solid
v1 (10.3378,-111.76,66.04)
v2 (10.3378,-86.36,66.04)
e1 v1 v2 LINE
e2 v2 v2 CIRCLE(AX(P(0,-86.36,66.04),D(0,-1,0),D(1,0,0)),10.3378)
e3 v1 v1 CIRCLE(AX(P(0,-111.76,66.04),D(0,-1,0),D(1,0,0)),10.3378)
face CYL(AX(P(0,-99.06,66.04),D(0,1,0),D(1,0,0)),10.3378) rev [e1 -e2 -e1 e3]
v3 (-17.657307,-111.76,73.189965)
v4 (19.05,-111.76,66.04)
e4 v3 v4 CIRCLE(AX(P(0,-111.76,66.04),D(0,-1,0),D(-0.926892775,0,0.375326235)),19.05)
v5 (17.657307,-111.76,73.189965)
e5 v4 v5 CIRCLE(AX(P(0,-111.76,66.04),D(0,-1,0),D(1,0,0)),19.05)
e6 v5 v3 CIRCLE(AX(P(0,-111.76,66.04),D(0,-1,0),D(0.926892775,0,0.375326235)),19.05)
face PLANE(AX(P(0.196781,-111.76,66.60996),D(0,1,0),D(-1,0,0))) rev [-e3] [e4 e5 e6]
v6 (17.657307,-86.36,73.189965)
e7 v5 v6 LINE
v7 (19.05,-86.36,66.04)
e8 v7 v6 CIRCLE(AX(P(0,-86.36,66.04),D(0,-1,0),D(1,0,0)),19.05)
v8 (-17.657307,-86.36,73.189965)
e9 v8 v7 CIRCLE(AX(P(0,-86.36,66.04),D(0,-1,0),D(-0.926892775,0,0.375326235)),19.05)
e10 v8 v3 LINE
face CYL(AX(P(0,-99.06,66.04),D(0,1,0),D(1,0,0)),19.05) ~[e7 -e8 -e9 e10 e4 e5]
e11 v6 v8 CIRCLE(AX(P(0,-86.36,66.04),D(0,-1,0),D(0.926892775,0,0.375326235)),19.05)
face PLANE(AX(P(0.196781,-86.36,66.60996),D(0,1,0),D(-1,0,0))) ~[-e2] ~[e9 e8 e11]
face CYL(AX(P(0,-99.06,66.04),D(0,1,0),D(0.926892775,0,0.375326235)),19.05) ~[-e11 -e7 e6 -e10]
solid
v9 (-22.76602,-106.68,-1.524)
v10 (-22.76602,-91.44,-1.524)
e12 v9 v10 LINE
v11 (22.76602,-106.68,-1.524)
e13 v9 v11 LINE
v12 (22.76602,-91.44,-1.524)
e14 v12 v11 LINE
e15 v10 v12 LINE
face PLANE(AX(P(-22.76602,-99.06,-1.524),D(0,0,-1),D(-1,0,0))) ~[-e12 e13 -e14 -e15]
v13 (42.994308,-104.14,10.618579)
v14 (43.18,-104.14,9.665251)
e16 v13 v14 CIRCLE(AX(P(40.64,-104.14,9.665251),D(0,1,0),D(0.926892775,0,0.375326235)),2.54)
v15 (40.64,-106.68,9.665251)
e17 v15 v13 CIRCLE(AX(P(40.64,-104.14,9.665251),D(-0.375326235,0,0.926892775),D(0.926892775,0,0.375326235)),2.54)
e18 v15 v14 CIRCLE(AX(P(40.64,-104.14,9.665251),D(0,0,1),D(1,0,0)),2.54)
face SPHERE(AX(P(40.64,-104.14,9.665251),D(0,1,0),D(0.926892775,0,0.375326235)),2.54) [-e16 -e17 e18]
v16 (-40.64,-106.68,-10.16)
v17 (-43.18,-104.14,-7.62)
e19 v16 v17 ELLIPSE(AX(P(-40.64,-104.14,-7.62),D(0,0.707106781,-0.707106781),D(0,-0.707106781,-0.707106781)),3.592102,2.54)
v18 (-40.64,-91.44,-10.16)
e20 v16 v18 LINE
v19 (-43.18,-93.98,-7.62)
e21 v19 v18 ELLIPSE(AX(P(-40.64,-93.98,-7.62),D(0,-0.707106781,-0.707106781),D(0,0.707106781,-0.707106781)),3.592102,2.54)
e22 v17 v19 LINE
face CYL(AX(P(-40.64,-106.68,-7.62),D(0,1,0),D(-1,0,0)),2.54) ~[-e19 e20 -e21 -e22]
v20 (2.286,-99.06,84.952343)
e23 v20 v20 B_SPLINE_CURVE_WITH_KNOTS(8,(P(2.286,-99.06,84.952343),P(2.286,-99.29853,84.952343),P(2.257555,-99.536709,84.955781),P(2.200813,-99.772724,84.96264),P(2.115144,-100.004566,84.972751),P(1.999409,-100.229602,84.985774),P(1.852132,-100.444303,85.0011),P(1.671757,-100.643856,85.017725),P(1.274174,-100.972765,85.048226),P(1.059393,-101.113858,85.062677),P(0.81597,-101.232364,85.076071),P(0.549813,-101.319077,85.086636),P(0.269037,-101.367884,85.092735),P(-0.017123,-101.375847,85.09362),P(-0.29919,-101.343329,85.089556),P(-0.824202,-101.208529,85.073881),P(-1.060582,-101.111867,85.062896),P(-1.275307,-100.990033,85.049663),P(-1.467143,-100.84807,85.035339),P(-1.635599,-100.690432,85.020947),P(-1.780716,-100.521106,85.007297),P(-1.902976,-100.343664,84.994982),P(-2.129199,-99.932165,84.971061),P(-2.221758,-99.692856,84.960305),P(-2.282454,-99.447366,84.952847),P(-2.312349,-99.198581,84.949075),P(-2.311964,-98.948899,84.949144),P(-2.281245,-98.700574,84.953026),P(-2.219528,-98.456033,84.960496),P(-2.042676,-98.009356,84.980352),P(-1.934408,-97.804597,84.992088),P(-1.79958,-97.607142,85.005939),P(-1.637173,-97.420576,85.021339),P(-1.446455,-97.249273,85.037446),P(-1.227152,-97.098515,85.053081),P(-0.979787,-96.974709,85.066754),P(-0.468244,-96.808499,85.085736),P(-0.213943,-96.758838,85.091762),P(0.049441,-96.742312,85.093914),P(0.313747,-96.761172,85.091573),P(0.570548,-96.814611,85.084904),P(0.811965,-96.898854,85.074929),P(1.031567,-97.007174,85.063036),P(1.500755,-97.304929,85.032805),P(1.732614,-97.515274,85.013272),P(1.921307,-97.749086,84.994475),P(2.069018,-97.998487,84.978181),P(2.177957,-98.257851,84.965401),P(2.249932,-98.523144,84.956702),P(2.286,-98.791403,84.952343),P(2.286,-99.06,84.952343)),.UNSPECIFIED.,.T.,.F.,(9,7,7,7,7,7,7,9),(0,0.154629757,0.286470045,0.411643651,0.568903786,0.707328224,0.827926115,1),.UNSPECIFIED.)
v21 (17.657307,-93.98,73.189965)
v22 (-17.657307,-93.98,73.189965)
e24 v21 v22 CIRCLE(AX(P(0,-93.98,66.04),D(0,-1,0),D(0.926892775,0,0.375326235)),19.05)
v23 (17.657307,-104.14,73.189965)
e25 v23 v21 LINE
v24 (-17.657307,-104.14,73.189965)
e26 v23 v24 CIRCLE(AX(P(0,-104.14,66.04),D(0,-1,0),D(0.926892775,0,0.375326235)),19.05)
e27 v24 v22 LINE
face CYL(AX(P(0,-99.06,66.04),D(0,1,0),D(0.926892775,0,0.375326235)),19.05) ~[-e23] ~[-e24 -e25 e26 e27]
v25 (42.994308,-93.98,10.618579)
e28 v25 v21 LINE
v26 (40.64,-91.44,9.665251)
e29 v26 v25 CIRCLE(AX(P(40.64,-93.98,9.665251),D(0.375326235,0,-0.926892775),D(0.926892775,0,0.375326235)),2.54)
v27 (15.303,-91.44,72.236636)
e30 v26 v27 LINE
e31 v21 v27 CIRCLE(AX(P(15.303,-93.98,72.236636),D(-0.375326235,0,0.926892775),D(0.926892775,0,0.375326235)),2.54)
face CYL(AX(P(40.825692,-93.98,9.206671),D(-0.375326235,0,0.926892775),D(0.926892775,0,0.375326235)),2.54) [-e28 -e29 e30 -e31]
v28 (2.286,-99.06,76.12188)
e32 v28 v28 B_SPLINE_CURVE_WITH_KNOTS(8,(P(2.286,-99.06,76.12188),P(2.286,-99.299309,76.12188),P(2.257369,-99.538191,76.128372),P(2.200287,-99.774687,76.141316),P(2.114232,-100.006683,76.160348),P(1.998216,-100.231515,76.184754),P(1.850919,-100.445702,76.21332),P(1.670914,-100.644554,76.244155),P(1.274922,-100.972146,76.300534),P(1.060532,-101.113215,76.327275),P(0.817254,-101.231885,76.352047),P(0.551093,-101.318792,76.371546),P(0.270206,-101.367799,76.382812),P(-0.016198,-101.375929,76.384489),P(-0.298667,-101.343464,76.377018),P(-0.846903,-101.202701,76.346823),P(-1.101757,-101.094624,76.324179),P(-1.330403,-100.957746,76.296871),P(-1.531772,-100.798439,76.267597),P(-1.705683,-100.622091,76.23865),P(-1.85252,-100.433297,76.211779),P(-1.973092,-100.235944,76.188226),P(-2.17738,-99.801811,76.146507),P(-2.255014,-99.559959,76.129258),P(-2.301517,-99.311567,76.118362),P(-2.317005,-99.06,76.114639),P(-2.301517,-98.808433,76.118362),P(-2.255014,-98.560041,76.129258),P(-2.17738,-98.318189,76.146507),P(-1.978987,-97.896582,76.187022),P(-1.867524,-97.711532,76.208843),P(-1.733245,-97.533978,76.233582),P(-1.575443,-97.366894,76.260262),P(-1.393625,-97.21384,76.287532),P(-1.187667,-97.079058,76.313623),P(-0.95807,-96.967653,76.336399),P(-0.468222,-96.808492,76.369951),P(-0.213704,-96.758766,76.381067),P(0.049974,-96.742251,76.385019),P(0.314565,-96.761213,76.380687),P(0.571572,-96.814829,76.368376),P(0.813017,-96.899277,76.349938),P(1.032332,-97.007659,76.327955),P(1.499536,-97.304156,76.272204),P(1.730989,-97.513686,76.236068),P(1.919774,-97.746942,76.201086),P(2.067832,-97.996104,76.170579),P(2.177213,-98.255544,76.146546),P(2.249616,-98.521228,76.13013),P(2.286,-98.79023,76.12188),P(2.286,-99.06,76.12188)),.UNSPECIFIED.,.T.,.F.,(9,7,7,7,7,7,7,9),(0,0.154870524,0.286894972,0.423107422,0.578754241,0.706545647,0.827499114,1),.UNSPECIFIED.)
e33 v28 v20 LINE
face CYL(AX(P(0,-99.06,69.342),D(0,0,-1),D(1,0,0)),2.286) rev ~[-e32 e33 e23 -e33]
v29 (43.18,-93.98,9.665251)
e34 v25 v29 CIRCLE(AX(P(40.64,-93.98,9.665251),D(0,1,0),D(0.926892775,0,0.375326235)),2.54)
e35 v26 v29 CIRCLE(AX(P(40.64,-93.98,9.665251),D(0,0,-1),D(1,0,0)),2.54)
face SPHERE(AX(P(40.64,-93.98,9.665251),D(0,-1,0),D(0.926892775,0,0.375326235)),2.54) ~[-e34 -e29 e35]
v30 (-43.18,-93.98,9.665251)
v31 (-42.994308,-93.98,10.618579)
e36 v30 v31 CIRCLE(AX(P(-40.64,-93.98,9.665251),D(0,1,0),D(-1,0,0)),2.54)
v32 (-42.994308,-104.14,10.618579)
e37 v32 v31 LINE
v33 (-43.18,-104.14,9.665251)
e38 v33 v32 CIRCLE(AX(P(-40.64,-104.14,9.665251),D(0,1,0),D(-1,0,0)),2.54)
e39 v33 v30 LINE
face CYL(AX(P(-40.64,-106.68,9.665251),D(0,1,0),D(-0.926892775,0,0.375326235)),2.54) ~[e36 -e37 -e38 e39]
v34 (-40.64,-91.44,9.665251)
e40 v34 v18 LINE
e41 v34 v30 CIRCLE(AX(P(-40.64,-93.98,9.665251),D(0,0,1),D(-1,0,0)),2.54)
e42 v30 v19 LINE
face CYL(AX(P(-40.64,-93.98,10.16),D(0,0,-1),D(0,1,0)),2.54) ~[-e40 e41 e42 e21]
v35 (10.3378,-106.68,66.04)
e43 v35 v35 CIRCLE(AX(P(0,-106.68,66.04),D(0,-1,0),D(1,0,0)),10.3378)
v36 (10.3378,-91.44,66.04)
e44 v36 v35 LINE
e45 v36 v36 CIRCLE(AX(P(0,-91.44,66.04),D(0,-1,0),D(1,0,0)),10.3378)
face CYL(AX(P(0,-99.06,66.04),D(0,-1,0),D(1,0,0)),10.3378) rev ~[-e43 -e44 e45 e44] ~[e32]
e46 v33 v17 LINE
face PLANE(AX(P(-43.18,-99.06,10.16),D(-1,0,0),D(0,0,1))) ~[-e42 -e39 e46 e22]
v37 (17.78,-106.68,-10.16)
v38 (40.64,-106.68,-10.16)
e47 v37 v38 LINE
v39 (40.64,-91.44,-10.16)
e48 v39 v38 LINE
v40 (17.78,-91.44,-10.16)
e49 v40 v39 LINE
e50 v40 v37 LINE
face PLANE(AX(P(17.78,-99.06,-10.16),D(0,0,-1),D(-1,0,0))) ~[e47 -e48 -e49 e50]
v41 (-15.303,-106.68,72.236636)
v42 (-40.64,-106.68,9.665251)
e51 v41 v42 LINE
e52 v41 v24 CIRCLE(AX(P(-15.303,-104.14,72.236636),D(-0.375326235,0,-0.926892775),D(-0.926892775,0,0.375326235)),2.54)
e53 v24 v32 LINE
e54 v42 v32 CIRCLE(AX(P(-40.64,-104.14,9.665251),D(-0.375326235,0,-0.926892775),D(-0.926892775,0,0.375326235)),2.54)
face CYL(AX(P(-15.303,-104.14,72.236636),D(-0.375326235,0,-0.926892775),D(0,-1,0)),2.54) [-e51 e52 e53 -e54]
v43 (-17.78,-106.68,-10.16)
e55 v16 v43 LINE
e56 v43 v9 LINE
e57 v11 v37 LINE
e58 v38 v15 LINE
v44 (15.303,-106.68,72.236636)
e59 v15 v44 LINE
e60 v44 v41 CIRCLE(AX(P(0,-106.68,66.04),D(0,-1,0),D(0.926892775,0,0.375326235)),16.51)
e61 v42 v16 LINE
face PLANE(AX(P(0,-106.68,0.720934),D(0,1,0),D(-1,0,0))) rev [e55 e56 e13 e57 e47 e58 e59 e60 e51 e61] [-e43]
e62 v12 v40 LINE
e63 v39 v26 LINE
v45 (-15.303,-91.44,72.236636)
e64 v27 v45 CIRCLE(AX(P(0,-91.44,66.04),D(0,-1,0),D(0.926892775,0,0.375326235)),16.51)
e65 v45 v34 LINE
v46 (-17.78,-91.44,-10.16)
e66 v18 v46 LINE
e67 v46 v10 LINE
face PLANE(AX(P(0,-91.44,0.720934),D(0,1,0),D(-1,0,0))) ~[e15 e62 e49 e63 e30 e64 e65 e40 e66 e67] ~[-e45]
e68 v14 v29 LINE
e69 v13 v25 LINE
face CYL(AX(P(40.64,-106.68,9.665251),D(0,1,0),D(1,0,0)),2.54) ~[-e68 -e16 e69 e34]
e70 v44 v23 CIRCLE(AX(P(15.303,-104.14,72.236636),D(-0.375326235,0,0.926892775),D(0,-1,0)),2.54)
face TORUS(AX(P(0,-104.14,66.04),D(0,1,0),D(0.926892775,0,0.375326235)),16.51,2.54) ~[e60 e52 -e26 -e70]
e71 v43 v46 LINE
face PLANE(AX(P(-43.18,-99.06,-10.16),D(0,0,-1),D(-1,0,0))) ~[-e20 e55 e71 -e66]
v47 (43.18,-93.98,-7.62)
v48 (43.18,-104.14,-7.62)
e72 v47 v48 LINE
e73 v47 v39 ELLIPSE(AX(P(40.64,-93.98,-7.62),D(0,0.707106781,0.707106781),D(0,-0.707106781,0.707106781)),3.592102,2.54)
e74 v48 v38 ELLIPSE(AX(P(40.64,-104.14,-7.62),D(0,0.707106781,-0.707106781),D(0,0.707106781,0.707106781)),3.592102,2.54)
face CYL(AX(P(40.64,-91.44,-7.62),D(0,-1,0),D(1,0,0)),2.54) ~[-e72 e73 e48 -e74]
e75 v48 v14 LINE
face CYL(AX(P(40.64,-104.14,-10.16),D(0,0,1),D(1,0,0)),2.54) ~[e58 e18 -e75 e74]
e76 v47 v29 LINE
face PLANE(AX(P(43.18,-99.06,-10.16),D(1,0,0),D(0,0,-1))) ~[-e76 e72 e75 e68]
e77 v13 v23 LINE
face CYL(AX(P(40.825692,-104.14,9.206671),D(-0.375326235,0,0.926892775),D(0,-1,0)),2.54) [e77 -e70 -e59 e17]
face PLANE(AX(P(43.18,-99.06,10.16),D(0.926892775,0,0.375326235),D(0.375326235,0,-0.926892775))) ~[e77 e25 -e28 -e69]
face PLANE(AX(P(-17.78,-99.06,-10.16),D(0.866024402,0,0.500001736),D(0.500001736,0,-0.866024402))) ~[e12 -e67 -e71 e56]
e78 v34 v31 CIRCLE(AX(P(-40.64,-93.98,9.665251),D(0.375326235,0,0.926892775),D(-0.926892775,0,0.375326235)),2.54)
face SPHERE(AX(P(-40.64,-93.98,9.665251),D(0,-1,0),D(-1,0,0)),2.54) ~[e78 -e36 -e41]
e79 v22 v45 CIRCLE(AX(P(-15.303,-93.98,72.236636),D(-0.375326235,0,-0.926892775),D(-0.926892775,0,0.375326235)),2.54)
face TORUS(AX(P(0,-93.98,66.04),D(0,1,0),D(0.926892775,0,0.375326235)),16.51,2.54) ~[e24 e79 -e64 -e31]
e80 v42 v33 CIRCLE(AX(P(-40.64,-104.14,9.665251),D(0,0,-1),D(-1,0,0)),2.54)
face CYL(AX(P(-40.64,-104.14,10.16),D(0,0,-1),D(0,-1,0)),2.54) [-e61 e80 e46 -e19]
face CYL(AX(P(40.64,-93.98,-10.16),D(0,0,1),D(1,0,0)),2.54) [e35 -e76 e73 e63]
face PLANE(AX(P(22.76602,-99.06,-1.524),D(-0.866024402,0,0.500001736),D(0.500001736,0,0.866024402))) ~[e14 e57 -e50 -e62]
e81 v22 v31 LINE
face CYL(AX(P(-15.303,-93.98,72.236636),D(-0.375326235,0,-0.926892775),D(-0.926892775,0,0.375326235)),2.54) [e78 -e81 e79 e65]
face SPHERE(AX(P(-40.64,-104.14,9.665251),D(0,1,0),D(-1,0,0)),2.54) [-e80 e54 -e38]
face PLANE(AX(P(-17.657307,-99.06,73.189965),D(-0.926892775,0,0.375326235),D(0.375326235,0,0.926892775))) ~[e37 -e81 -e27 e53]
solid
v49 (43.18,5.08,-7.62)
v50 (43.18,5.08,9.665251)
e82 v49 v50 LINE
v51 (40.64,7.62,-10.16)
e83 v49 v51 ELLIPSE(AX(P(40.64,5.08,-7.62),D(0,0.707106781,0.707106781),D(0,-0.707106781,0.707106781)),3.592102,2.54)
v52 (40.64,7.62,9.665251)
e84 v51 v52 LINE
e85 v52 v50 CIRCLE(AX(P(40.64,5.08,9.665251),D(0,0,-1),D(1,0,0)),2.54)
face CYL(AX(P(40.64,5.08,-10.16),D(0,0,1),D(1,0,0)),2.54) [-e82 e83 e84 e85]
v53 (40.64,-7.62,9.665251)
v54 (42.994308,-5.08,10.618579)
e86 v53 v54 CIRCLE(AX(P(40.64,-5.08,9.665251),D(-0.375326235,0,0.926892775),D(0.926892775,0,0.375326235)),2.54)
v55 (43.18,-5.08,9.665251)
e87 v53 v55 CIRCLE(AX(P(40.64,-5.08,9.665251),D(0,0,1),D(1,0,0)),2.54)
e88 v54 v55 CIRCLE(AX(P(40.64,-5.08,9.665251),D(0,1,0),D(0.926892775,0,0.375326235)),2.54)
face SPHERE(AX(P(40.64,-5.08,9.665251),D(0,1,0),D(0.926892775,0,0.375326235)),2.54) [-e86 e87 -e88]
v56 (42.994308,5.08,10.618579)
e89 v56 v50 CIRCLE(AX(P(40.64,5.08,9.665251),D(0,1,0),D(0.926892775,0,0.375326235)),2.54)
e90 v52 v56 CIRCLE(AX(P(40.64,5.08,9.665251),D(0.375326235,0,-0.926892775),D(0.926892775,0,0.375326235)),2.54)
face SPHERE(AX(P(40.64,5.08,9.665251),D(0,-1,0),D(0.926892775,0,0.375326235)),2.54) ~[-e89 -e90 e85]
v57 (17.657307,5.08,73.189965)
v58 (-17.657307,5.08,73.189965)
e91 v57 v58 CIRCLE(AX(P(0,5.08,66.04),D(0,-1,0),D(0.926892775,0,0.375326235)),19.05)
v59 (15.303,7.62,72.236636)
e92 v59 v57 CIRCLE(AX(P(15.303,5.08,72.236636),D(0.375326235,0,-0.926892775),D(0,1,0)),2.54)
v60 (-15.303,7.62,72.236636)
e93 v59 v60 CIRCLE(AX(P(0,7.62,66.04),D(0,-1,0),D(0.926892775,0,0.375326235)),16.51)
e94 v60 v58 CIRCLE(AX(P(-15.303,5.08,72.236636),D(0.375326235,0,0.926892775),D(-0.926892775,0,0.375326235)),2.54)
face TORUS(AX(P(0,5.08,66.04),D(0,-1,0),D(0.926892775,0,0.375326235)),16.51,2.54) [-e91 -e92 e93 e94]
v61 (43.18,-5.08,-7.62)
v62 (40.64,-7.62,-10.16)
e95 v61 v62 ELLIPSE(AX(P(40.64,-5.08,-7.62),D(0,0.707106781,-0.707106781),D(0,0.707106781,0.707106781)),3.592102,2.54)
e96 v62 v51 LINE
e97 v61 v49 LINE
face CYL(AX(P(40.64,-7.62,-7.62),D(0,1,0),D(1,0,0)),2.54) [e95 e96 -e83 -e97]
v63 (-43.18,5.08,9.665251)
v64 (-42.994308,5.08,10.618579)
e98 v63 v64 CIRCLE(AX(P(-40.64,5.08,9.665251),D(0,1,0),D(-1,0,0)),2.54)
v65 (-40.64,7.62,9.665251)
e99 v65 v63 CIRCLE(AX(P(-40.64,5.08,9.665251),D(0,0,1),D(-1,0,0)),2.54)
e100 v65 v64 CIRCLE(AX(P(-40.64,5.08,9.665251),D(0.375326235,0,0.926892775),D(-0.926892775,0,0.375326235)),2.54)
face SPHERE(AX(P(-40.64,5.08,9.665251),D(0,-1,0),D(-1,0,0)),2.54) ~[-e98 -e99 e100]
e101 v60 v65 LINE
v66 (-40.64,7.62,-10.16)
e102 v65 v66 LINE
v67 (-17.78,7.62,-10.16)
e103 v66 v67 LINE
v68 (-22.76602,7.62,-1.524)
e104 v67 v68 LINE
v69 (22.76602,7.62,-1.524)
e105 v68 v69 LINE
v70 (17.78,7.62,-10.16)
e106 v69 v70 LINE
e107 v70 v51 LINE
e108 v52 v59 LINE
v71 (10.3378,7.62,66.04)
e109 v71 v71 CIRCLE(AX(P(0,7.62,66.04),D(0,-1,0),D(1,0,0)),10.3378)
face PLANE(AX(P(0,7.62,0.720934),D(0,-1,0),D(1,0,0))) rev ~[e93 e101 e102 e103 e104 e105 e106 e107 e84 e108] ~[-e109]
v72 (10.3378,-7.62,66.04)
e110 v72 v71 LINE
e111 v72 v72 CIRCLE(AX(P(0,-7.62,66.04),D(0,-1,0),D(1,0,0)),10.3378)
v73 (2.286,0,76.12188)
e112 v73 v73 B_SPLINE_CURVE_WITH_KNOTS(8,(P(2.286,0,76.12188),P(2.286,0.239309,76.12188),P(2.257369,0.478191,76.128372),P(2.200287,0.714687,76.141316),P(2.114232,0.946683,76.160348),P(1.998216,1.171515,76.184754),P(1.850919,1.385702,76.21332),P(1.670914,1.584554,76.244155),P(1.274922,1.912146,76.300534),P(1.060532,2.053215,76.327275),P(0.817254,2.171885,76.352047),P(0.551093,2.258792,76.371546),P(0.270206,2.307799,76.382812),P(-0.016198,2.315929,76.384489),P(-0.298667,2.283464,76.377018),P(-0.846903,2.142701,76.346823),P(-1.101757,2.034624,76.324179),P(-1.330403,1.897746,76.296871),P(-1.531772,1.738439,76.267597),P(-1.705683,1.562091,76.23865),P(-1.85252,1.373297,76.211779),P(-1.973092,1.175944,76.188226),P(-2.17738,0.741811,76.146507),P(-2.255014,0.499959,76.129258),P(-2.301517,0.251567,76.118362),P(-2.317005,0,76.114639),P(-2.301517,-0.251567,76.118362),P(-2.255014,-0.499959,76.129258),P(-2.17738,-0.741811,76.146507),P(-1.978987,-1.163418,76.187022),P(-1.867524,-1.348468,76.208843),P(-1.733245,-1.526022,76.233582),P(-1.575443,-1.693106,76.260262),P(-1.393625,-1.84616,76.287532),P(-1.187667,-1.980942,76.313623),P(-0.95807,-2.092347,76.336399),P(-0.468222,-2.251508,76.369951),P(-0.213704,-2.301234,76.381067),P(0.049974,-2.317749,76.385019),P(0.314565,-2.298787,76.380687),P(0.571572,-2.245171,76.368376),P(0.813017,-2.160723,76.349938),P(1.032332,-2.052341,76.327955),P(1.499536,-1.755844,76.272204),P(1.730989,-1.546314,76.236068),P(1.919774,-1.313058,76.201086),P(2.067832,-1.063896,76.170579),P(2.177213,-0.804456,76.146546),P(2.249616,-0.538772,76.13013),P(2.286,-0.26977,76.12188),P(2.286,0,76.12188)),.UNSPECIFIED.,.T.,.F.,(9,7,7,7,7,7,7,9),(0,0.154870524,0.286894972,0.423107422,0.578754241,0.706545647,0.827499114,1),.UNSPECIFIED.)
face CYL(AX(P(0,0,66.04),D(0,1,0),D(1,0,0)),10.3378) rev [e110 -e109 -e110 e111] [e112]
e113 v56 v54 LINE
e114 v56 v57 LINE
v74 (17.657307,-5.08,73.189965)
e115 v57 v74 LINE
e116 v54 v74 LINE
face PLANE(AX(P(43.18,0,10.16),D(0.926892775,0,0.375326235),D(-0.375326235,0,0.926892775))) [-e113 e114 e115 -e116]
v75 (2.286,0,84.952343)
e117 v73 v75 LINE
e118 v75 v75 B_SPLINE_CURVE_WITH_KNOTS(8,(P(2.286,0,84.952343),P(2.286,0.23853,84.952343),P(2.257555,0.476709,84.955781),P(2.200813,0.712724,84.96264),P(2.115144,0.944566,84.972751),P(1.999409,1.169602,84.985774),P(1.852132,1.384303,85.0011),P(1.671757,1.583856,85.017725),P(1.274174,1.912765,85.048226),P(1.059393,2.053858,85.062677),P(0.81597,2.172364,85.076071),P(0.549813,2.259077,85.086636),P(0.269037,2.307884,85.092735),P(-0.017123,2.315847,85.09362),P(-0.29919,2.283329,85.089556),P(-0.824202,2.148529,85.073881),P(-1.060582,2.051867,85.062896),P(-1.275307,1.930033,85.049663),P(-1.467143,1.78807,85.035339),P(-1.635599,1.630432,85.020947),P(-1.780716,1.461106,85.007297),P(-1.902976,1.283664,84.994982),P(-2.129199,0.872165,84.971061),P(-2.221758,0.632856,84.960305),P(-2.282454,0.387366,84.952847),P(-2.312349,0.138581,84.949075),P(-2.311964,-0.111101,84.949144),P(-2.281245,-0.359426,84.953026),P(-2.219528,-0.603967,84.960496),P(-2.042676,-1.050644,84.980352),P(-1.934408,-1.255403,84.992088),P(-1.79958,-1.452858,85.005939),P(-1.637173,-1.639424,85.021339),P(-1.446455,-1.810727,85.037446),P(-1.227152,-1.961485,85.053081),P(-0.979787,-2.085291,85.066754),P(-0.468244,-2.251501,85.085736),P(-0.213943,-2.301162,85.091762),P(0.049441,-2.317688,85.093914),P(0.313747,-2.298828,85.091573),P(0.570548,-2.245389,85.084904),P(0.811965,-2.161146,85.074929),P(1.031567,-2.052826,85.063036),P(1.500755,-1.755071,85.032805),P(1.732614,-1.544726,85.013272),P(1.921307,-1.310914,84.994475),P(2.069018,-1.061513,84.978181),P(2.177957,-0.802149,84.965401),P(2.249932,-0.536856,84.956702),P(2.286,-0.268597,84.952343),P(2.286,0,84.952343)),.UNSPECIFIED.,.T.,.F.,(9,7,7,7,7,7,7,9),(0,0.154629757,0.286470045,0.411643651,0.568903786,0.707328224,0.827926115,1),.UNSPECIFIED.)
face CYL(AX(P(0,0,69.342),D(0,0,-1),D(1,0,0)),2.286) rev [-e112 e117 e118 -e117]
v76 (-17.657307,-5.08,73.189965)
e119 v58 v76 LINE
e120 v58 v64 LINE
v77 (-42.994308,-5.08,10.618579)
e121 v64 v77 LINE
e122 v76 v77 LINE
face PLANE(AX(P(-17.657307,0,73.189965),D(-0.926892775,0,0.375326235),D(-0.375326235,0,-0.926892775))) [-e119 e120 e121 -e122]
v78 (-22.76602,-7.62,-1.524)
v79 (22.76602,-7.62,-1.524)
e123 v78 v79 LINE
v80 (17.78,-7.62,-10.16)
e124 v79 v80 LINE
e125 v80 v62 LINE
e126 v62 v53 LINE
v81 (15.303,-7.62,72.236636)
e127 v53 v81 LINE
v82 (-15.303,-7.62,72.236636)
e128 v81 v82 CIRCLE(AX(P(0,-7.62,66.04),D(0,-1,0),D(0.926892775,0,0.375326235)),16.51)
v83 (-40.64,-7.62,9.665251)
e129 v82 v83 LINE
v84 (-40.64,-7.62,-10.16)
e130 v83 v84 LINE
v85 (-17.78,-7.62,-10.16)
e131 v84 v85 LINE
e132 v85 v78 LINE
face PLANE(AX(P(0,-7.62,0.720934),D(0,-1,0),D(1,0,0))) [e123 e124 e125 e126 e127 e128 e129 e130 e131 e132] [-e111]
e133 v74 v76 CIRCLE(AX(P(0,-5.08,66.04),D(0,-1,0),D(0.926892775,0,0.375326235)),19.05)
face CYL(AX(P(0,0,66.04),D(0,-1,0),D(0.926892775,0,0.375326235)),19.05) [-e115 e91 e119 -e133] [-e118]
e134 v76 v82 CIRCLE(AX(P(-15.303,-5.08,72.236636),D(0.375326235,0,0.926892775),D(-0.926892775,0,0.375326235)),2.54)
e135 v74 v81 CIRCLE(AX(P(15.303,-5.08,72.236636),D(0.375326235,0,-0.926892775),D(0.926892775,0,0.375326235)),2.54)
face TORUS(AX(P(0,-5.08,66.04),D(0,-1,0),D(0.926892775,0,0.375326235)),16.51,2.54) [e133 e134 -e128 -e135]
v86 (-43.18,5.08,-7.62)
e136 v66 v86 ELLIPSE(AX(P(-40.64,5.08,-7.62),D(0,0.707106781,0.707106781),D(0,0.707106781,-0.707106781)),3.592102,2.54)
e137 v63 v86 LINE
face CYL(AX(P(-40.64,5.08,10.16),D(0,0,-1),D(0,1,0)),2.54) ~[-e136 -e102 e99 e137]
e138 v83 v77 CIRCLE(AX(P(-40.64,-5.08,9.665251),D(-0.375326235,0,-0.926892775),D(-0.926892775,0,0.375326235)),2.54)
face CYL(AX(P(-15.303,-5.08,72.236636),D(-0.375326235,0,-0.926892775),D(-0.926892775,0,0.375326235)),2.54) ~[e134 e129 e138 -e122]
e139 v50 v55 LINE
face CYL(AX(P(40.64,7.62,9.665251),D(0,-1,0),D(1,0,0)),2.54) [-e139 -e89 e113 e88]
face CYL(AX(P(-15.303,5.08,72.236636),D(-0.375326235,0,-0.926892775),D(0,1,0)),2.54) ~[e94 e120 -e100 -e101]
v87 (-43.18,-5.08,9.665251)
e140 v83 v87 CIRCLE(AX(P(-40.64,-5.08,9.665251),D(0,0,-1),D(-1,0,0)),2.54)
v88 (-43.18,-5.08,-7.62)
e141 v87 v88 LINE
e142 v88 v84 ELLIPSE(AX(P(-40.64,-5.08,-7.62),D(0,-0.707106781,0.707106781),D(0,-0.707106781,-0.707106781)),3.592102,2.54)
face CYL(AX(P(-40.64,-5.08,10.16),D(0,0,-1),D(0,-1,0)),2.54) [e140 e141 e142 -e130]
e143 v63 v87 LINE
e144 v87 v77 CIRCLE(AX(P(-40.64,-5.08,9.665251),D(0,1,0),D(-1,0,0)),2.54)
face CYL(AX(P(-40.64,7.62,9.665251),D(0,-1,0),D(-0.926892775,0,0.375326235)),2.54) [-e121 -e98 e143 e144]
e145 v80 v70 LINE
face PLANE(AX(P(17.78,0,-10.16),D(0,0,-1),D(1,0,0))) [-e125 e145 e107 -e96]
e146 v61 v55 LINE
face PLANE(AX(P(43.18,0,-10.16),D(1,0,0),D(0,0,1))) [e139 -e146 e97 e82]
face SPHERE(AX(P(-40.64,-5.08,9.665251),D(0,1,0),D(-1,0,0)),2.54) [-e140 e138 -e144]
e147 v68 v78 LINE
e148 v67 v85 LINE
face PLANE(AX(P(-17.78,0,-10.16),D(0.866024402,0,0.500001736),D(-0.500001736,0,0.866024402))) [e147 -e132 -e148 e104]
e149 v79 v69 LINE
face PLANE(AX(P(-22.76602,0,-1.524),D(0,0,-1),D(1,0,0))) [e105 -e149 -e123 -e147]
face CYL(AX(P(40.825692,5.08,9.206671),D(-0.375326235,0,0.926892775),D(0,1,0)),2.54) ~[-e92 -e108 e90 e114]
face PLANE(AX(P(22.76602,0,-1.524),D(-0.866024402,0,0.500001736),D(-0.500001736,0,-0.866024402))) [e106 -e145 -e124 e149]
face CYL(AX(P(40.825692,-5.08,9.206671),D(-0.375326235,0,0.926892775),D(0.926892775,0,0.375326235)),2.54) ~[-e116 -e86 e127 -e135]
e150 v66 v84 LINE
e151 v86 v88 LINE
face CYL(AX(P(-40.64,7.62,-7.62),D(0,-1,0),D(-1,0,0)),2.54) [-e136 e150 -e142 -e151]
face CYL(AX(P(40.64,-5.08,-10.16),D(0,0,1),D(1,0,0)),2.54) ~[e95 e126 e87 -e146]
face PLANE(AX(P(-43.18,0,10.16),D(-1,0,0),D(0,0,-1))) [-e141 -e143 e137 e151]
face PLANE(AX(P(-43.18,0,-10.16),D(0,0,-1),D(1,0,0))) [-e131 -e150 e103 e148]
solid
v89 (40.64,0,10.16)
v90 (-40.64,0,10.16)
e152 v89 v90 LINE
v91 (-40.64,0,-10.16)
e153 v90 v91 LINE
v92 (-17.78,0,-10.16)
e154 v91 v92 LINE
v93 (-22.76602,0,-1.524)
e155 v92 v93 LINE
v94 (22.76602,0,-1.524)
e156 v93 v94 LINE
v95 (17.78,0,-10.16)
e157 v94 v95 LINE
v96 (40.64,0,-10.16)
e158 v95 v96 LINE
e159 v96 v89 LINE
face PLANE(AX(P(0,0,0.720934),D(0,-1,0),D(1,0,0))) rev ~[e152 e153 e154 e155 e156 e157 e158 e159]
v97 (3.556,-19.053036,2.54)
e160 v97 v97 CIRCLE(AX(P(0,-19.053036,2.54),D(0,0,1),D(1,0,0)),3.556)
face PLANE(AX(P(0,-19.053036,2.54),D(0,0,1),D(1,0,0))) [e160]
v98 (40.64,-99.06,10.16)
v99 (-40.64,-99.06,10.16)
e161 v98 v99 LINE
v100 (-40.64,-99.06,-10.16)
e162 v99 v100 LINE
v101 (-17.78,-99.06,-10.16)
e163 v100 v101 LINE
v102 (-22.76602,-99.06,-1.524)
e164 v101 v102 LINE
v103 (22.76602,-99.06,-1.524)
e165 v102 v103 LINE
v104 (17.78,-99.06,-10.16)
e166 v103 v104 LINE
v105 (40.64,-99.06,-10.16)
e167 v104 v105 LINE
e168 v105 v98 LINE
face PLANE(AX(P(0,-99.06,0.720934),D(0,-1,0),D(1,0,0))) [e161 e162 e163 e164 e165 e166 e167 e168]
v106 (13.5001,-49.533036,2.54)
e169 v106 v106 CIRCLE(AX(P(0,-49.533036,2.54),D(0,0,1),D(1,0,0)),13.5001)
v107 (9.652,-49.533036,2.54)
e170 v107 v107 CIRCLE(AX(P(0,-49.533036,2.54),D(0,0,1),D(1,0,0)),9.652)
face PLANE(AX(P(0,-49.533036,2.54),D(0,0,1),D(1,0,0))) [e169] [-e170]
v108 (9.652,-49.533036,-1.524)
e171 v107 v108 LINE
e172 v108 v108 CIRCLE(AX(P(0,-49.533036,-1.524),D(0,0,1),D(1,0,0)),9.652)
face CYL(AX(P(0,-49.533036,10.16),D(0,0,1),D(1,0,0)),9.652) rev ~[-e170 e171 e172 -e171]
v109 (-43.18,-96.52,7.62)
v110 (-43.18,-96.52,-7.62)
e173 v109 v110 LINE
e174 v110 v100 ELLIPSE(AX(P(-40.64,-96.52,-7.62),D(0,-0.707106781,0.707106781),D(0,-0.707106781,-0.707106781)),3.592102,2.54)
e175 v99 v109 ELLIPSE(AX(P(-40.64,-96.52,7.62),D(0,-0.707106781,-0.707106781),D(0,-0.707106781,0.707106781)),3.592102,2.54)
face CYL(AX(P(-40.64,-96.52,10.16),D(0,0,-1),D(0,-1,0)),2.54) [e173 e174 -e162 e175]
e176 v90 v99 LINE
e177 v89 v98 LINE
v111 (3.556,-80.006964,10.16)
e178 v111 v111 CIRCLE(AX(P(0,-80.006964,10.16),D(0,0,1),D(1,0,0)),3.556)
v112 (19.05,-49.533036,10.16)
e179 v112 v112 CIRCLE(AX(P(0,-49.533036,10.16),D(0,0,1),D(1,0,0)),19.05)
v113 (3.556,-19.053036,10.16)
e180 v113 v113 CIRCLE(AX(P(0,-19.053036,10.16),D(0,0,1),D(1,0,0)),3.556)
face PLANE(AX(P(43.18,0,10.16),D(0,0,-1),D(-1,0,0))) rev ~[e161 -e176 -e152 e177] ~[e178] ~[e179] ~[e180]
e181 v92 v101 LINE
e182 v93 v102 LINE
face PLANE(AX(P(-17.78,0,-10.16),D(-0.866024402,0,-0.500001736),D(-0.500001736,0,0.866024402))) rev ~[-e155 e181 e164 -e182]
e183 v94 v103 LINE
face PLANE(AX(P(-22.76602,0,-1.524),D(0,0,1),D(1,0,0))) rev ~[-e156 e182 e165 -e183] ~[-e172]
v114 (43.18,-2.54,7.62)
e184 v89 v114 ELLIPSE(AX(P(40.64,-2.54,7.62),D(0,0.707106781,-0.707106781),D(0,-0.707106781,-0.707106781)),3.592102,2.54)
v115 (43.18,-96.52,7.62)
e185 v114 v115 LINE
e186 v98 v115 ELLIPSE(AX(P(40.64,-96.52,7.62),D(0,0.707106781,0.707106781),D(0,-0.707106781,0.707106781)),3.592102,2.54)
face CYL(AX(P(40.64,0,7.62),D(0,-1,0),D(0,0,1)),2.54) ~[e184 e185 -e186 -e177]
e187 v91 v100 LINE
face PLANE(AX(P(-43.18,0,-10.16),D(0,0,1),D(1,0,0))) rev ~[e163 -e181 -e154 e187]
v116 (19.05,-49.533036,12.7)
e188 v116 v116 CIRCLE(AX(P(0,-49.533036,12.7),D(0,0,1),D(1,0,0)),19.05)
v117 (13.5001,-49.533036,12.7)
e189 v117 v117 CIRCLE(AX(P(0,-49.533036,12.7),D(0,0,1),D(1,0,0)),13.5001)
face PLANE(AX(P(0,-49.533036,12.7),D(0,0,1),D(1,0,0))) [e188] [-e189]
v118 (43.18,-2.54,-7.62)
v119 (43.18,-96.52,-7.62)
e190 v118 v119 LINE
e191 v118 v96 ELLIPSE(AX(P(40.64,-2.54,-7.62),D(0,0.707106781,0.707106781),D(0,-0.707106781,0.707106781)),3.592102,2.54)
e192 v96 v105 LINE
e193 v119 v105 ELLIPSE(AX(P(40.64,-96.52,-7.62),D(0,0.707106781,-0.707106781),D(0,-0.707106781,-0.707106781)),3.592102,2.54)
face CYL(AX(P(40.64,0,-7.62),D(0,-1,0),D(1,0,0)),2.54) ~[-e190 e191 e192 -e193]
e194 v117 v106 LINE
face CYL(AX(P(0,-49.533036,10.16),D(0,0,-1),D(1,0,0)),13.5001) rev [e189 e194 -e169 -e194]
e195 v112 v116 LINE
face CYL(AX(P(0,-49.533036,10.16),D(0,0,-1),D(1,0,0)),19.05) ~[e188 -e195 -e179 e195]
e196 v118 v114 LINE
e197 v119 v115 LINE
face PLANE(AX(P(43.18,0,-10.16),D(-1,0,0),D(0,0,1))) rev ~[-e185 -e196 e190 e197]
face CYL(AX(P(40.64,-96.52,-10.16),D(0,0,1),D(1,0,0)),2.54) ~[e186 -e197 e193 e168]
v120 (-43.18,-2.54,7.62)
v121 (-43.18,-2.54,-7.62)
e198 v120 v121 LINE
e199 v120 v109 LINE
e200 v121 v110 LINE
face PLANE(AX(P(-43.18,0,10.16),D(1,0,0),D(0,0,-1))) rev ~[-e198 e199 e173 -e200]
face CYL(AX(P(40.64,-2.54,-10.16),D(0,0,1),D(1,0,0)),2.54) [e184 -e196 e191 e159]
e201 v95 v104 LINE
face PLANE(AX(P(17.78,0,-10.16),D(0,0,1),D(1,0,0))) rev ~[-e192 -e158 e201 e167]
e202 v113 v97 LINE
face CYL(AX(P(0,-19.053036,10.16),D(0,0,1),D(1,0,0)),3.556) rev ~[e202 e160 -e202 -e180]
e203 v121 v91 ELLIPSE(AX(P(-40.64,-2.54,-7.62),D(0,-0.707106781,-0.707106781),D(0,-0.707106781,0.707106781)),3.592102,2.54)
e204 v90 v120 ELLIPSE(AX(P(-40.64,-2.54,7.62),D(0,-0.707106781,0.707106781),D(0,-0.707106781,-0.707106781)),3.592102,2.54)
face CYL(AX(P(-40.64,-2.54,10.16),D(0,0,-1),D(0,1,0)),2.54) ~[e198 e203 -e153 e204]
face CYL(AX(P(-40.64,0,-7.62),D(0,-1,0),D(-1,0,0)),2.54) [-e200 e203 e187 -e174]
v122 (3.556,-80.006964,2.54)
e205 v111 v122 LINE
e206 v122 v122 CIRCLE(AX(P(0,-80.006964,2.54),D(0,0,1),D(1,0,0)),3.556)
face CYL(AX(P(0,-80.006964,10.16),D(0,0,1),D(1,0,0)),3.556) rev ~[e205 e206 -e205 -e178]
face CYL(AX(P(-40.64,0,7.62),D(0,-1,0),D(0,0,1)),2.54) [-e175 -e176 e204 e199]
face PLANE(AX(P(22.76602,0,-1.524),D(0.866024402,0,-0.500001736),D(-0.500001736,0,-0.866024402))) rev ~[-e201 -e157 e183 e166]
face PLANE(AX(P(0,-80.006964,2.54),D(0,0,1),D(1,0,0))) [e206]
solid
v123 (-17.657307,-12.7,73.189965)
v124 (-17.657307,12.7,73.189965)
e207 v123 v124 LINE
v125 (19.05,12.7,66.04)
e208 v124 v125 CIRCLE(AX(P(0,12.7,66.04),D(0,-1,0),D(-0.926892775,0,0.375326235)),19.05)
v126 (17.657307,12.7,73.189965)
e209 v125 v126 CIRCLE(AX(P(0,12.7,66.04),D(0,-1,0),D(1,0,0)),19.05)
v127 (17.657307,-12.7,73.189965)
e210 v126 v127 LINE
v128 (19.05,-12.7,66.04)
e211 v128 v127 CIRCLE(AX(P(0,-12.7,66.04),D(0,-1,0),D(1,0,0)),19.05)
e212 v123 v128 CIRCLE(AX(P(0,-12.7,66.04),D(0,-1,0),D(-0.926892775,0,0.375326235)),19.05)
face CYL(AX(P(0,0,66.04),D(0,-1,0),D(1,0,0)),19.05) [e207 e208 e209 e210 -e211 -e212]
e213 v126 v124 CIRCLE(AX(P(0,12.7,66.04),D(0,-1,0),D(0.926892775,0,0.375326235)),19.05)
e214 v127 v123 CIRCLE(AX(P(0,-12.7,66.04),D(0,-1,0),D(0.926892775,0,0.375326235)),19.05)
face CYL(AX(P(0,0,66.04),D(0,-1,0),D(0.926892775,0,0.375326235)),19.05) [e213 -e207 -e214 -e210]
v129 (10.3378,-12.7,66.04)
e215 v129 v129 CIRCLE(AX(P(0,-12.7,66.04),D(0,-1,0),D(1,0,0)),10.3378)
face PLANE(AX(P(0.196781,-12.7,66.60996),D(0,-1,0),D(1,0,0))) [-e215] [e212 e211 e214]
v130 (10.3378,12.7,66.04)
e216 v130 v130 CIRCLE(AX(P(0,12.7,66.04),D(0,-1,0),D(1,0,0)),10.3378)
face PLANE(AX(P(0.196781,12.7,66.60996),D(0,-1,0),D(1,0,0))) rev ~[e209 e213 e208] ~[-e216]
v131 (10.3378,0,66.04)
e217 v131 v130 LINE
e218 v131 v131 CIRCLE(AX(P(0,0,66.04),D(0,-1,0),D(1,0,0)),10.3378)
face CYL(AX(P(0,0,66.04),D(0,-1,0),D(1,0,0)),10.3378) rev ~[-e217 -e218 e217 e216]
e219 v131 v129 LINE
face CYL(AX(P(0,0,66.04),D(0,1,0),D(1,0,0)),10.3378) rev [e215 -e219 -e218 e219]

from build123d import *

# Parameters (mm, degrees)
F0_R      = 10.3378
F1_DEPTH  = 7.62
F2_DEPTH  = 12.7
F4_START  = 69.342
F3_R      = 2.286
F4_DEPTH  = 29.464
F7_DEPTH  = 99.06
F8_R      = 9.652
F9_DEPTH  = 25.4
F8_R_2    = 13.5001
F10_DEPTH = 7.62
F8_R_3    = 19.05
F11_DEPTH = 2.54
F8_R_4    = 3.556
F12_DEPTH = 7.62
F13_R     = 2.54
F13_2_R   = 2.54
F13_3_R   = 2.54


with BuildPart() as f1:
    # F0 (on Front) → F1 (new body, symmetric)
    with BuildSketch(Plane.XZ):
        Polygon((43.18, -10.16), (43.18, 10.16), (-43.18, 10.16), (-43.18, -10.16), (-17.78, -10.16), (-22.76602, -1.524), (22.76602, -1.524), (17.78, -10.16), align=None)
        with BuildLine():
            ThreePointArc((19.05, 66.04), (18.6985855802, 69.6821693124), (17.65730737, 73.1899647859))
            ThreePointArc((17.65730737, 73.1899647859), (0, 85.09), (-17.65730737, 73.1899647859))
            ThreePointArc((-17.65730737, 73.1899647859), (-3.6421693124, 47.3414144198), (19.05, 66.04))
        make_face()
        with Locations((0, 66.04)):
            Circle(F0_R, mode=Mode.SUBTRACT)
        with BuildLine():
            Line((-43.18, 10.16), (43.18, 10.16))
            Line((43.18, 10.16), (17.65730737, 73.1899647859))
            ThreePointArc((17.65730737, 73.1899647859), (18.6985855802, 69.6821693124), (19.05, 66.04))
            ThreePointArc((19.05, 66.04), (-3.6421693124, 47.3414144198), (-17.65730737, 73.1899647859))
            Line((-17.65730737, 73.1899647859), (-43.18, 10.16))
        make_face()
    extrude(amount=F1_DEPTH, both=True)

    # F3 (on Top) → F4 (cut)
    with BuildSketch(Plane.XY.offset(F4_START)):
        Circle(F3_R)
    extrude(amount=F4_DEPTH, mode=Mode.SUBTRACT)


with BuildPart() as f2:
    # F0 (on Front) → F2 (new body, symmetric)
    with BuildSketch(Plane.XZ):
        with BuildLine():
            ThreePointArc((19.05, 66.04), (18.6985855802, 69.6821693124), (17.65730737, 73.1899647859))
            ThreePointArc((17.65730737, 73.1899647859), (0, 85.09), (-17.65730737, 73.1899647859))
            ThreePointArc((-17.65730737, 73.1899647859), (-3.6421693124, 47.3414144198), (19.05, 66.04))
        make_face()
        with Locations((0, 66.04)):
            Circle(F0_R, mode=Mode.SUBTRACT)
    extrude(amount=F2_DEPTH, both=True)


with BuildPart() as f6_1:
    # F6: instance of F2
    add(f2.part.mirror(Plane.XZ.offset(49.53)))


with BuildPart() as f6_2:
    # F6: instance of F1
    add(f1.part.mirror(Plane.XZ.offset(49.53)))

    # F13
    f13_edges = [f6_2.edges().sort_by_distance(p)[0] for p in [
        (43.18, -99.06, 10.16),
        (30.418654, -106.68, 41.674982),
        (17.657307, -99.06, 73.189965),
        (30.418654, -91.44, 41.674982),
        (43.18, -106.68, 0),
        (43.18, -91.44, 0),
        (43.18, -99.06, -10.16),
        (-43.18, -99.06, 10.16),
        (-43.18, -106.68, 0),
        (-43.18, -99.06, -10.16),
        (-43.18, -91.44, 0),
    ]]
    fillet(f13_edges, radius=F13_R)


with BuildPart() as f7:
    # F0 (on Front) → F7 (new body)
    with BuildSketch(Plane.XZ):
        Polygon((43.18, -10.16), (43.18, 10.16), (-43.18, 10.16), (-43.18, -10.16), (-17.78, -10.16), (-22.76602, -1.524), (22.76602, -1.524), (17.78, -10.16), align=None)
    extrude(amount=F7_DEPTH)

    # F8 (on face) → F9 (cut)
    with BuildSketch(Plane.XY.offset(10.16)):
        with Locations((0, -49.5330356061)):
            Circle(F8_R)
    extrude(amount=-F9_DEPTH, mode=Mode.SUBTRACT)

    # F8 (on face) → F10 (cut)
    with BuildSketch(Plane.XY.offset(10.16)):
        with Locations((0, -49.5330356061)):
            Circle(F8_R_2)
        with Locations((0, -49.5330356061)):
            Circle(F8_R, mode=Mode.SUBTRACT)
    extrude(amount=-F10_DEPTH, mode=Mode.SUBTRACT)

    # F8 (on face) → F11 (join)
    with BuildSketch(Plane.XY.offset(10.16)):
        with Locations((0, -49.5330356061)):
            Circle(F8_R_3)
        with Locations((0, -49.5330356061)):
            Circle(F8_R_2, mode=Mode.SUBTRACT)
    extrude(amount=F11_DEPTH)

    # F8 (on face) → F12 (cut)
    with BuildSketch(Plane.XY.offset(10.16)):
        with Locations((0, -80.0069643939)):
            Circle(F8_R_4)
        with Locations((0, -19.0530356061)):
            Circle(F8_R_4)
    extrude(amount=-F12_DEPTH, mode=Mode.SUBTRACT)

    # F13#3
    f13_3_edges = [f7.edges().sort_by_distance(p)[0] for p in [
        (43.18, -49.53, -10.16),
        (43.18, -49.53, 10.16),
        (43.18, 0, 0),
        (43.18, -99.06, 0),
        (-43.18, -49.53, 10.16),
        (-43.18, -49.53, -10.16),
        (-43.18, 0, 0),
        (-43.18, -99.06, 0),
    ]]
    fillet(f13_3_edges, radius=F13_3_R)


with BuildPart() as f1_1:
    add(f1.part)

    # F13#2
    f13_2_edges = [f1_1.edges().sort_by_distance(p)[0] for p in [
        (43.18, 0, 10.16),
        (30.418654, 7.62, 41.674982),
        (17.657307, 0, 73.189965),
        (30.418654, -7.62, 41.674982),
        (43.18, 7.62, 0),
        (43.18, -7.62, 0),
        (43.18, 0, -10.16),
        (-43.18, 0, 10.16),
        (-43.18, 7.62, 0),
        (-43.18, 0, -10.16),
        (-43.18, -7.62, 0),
    ]]
    fillet(f13_2_edges, radius=F13_2_R)


solid = Compound([f2.part, f6_1.part, f6_2.part, f7.part, f1_1.part])
